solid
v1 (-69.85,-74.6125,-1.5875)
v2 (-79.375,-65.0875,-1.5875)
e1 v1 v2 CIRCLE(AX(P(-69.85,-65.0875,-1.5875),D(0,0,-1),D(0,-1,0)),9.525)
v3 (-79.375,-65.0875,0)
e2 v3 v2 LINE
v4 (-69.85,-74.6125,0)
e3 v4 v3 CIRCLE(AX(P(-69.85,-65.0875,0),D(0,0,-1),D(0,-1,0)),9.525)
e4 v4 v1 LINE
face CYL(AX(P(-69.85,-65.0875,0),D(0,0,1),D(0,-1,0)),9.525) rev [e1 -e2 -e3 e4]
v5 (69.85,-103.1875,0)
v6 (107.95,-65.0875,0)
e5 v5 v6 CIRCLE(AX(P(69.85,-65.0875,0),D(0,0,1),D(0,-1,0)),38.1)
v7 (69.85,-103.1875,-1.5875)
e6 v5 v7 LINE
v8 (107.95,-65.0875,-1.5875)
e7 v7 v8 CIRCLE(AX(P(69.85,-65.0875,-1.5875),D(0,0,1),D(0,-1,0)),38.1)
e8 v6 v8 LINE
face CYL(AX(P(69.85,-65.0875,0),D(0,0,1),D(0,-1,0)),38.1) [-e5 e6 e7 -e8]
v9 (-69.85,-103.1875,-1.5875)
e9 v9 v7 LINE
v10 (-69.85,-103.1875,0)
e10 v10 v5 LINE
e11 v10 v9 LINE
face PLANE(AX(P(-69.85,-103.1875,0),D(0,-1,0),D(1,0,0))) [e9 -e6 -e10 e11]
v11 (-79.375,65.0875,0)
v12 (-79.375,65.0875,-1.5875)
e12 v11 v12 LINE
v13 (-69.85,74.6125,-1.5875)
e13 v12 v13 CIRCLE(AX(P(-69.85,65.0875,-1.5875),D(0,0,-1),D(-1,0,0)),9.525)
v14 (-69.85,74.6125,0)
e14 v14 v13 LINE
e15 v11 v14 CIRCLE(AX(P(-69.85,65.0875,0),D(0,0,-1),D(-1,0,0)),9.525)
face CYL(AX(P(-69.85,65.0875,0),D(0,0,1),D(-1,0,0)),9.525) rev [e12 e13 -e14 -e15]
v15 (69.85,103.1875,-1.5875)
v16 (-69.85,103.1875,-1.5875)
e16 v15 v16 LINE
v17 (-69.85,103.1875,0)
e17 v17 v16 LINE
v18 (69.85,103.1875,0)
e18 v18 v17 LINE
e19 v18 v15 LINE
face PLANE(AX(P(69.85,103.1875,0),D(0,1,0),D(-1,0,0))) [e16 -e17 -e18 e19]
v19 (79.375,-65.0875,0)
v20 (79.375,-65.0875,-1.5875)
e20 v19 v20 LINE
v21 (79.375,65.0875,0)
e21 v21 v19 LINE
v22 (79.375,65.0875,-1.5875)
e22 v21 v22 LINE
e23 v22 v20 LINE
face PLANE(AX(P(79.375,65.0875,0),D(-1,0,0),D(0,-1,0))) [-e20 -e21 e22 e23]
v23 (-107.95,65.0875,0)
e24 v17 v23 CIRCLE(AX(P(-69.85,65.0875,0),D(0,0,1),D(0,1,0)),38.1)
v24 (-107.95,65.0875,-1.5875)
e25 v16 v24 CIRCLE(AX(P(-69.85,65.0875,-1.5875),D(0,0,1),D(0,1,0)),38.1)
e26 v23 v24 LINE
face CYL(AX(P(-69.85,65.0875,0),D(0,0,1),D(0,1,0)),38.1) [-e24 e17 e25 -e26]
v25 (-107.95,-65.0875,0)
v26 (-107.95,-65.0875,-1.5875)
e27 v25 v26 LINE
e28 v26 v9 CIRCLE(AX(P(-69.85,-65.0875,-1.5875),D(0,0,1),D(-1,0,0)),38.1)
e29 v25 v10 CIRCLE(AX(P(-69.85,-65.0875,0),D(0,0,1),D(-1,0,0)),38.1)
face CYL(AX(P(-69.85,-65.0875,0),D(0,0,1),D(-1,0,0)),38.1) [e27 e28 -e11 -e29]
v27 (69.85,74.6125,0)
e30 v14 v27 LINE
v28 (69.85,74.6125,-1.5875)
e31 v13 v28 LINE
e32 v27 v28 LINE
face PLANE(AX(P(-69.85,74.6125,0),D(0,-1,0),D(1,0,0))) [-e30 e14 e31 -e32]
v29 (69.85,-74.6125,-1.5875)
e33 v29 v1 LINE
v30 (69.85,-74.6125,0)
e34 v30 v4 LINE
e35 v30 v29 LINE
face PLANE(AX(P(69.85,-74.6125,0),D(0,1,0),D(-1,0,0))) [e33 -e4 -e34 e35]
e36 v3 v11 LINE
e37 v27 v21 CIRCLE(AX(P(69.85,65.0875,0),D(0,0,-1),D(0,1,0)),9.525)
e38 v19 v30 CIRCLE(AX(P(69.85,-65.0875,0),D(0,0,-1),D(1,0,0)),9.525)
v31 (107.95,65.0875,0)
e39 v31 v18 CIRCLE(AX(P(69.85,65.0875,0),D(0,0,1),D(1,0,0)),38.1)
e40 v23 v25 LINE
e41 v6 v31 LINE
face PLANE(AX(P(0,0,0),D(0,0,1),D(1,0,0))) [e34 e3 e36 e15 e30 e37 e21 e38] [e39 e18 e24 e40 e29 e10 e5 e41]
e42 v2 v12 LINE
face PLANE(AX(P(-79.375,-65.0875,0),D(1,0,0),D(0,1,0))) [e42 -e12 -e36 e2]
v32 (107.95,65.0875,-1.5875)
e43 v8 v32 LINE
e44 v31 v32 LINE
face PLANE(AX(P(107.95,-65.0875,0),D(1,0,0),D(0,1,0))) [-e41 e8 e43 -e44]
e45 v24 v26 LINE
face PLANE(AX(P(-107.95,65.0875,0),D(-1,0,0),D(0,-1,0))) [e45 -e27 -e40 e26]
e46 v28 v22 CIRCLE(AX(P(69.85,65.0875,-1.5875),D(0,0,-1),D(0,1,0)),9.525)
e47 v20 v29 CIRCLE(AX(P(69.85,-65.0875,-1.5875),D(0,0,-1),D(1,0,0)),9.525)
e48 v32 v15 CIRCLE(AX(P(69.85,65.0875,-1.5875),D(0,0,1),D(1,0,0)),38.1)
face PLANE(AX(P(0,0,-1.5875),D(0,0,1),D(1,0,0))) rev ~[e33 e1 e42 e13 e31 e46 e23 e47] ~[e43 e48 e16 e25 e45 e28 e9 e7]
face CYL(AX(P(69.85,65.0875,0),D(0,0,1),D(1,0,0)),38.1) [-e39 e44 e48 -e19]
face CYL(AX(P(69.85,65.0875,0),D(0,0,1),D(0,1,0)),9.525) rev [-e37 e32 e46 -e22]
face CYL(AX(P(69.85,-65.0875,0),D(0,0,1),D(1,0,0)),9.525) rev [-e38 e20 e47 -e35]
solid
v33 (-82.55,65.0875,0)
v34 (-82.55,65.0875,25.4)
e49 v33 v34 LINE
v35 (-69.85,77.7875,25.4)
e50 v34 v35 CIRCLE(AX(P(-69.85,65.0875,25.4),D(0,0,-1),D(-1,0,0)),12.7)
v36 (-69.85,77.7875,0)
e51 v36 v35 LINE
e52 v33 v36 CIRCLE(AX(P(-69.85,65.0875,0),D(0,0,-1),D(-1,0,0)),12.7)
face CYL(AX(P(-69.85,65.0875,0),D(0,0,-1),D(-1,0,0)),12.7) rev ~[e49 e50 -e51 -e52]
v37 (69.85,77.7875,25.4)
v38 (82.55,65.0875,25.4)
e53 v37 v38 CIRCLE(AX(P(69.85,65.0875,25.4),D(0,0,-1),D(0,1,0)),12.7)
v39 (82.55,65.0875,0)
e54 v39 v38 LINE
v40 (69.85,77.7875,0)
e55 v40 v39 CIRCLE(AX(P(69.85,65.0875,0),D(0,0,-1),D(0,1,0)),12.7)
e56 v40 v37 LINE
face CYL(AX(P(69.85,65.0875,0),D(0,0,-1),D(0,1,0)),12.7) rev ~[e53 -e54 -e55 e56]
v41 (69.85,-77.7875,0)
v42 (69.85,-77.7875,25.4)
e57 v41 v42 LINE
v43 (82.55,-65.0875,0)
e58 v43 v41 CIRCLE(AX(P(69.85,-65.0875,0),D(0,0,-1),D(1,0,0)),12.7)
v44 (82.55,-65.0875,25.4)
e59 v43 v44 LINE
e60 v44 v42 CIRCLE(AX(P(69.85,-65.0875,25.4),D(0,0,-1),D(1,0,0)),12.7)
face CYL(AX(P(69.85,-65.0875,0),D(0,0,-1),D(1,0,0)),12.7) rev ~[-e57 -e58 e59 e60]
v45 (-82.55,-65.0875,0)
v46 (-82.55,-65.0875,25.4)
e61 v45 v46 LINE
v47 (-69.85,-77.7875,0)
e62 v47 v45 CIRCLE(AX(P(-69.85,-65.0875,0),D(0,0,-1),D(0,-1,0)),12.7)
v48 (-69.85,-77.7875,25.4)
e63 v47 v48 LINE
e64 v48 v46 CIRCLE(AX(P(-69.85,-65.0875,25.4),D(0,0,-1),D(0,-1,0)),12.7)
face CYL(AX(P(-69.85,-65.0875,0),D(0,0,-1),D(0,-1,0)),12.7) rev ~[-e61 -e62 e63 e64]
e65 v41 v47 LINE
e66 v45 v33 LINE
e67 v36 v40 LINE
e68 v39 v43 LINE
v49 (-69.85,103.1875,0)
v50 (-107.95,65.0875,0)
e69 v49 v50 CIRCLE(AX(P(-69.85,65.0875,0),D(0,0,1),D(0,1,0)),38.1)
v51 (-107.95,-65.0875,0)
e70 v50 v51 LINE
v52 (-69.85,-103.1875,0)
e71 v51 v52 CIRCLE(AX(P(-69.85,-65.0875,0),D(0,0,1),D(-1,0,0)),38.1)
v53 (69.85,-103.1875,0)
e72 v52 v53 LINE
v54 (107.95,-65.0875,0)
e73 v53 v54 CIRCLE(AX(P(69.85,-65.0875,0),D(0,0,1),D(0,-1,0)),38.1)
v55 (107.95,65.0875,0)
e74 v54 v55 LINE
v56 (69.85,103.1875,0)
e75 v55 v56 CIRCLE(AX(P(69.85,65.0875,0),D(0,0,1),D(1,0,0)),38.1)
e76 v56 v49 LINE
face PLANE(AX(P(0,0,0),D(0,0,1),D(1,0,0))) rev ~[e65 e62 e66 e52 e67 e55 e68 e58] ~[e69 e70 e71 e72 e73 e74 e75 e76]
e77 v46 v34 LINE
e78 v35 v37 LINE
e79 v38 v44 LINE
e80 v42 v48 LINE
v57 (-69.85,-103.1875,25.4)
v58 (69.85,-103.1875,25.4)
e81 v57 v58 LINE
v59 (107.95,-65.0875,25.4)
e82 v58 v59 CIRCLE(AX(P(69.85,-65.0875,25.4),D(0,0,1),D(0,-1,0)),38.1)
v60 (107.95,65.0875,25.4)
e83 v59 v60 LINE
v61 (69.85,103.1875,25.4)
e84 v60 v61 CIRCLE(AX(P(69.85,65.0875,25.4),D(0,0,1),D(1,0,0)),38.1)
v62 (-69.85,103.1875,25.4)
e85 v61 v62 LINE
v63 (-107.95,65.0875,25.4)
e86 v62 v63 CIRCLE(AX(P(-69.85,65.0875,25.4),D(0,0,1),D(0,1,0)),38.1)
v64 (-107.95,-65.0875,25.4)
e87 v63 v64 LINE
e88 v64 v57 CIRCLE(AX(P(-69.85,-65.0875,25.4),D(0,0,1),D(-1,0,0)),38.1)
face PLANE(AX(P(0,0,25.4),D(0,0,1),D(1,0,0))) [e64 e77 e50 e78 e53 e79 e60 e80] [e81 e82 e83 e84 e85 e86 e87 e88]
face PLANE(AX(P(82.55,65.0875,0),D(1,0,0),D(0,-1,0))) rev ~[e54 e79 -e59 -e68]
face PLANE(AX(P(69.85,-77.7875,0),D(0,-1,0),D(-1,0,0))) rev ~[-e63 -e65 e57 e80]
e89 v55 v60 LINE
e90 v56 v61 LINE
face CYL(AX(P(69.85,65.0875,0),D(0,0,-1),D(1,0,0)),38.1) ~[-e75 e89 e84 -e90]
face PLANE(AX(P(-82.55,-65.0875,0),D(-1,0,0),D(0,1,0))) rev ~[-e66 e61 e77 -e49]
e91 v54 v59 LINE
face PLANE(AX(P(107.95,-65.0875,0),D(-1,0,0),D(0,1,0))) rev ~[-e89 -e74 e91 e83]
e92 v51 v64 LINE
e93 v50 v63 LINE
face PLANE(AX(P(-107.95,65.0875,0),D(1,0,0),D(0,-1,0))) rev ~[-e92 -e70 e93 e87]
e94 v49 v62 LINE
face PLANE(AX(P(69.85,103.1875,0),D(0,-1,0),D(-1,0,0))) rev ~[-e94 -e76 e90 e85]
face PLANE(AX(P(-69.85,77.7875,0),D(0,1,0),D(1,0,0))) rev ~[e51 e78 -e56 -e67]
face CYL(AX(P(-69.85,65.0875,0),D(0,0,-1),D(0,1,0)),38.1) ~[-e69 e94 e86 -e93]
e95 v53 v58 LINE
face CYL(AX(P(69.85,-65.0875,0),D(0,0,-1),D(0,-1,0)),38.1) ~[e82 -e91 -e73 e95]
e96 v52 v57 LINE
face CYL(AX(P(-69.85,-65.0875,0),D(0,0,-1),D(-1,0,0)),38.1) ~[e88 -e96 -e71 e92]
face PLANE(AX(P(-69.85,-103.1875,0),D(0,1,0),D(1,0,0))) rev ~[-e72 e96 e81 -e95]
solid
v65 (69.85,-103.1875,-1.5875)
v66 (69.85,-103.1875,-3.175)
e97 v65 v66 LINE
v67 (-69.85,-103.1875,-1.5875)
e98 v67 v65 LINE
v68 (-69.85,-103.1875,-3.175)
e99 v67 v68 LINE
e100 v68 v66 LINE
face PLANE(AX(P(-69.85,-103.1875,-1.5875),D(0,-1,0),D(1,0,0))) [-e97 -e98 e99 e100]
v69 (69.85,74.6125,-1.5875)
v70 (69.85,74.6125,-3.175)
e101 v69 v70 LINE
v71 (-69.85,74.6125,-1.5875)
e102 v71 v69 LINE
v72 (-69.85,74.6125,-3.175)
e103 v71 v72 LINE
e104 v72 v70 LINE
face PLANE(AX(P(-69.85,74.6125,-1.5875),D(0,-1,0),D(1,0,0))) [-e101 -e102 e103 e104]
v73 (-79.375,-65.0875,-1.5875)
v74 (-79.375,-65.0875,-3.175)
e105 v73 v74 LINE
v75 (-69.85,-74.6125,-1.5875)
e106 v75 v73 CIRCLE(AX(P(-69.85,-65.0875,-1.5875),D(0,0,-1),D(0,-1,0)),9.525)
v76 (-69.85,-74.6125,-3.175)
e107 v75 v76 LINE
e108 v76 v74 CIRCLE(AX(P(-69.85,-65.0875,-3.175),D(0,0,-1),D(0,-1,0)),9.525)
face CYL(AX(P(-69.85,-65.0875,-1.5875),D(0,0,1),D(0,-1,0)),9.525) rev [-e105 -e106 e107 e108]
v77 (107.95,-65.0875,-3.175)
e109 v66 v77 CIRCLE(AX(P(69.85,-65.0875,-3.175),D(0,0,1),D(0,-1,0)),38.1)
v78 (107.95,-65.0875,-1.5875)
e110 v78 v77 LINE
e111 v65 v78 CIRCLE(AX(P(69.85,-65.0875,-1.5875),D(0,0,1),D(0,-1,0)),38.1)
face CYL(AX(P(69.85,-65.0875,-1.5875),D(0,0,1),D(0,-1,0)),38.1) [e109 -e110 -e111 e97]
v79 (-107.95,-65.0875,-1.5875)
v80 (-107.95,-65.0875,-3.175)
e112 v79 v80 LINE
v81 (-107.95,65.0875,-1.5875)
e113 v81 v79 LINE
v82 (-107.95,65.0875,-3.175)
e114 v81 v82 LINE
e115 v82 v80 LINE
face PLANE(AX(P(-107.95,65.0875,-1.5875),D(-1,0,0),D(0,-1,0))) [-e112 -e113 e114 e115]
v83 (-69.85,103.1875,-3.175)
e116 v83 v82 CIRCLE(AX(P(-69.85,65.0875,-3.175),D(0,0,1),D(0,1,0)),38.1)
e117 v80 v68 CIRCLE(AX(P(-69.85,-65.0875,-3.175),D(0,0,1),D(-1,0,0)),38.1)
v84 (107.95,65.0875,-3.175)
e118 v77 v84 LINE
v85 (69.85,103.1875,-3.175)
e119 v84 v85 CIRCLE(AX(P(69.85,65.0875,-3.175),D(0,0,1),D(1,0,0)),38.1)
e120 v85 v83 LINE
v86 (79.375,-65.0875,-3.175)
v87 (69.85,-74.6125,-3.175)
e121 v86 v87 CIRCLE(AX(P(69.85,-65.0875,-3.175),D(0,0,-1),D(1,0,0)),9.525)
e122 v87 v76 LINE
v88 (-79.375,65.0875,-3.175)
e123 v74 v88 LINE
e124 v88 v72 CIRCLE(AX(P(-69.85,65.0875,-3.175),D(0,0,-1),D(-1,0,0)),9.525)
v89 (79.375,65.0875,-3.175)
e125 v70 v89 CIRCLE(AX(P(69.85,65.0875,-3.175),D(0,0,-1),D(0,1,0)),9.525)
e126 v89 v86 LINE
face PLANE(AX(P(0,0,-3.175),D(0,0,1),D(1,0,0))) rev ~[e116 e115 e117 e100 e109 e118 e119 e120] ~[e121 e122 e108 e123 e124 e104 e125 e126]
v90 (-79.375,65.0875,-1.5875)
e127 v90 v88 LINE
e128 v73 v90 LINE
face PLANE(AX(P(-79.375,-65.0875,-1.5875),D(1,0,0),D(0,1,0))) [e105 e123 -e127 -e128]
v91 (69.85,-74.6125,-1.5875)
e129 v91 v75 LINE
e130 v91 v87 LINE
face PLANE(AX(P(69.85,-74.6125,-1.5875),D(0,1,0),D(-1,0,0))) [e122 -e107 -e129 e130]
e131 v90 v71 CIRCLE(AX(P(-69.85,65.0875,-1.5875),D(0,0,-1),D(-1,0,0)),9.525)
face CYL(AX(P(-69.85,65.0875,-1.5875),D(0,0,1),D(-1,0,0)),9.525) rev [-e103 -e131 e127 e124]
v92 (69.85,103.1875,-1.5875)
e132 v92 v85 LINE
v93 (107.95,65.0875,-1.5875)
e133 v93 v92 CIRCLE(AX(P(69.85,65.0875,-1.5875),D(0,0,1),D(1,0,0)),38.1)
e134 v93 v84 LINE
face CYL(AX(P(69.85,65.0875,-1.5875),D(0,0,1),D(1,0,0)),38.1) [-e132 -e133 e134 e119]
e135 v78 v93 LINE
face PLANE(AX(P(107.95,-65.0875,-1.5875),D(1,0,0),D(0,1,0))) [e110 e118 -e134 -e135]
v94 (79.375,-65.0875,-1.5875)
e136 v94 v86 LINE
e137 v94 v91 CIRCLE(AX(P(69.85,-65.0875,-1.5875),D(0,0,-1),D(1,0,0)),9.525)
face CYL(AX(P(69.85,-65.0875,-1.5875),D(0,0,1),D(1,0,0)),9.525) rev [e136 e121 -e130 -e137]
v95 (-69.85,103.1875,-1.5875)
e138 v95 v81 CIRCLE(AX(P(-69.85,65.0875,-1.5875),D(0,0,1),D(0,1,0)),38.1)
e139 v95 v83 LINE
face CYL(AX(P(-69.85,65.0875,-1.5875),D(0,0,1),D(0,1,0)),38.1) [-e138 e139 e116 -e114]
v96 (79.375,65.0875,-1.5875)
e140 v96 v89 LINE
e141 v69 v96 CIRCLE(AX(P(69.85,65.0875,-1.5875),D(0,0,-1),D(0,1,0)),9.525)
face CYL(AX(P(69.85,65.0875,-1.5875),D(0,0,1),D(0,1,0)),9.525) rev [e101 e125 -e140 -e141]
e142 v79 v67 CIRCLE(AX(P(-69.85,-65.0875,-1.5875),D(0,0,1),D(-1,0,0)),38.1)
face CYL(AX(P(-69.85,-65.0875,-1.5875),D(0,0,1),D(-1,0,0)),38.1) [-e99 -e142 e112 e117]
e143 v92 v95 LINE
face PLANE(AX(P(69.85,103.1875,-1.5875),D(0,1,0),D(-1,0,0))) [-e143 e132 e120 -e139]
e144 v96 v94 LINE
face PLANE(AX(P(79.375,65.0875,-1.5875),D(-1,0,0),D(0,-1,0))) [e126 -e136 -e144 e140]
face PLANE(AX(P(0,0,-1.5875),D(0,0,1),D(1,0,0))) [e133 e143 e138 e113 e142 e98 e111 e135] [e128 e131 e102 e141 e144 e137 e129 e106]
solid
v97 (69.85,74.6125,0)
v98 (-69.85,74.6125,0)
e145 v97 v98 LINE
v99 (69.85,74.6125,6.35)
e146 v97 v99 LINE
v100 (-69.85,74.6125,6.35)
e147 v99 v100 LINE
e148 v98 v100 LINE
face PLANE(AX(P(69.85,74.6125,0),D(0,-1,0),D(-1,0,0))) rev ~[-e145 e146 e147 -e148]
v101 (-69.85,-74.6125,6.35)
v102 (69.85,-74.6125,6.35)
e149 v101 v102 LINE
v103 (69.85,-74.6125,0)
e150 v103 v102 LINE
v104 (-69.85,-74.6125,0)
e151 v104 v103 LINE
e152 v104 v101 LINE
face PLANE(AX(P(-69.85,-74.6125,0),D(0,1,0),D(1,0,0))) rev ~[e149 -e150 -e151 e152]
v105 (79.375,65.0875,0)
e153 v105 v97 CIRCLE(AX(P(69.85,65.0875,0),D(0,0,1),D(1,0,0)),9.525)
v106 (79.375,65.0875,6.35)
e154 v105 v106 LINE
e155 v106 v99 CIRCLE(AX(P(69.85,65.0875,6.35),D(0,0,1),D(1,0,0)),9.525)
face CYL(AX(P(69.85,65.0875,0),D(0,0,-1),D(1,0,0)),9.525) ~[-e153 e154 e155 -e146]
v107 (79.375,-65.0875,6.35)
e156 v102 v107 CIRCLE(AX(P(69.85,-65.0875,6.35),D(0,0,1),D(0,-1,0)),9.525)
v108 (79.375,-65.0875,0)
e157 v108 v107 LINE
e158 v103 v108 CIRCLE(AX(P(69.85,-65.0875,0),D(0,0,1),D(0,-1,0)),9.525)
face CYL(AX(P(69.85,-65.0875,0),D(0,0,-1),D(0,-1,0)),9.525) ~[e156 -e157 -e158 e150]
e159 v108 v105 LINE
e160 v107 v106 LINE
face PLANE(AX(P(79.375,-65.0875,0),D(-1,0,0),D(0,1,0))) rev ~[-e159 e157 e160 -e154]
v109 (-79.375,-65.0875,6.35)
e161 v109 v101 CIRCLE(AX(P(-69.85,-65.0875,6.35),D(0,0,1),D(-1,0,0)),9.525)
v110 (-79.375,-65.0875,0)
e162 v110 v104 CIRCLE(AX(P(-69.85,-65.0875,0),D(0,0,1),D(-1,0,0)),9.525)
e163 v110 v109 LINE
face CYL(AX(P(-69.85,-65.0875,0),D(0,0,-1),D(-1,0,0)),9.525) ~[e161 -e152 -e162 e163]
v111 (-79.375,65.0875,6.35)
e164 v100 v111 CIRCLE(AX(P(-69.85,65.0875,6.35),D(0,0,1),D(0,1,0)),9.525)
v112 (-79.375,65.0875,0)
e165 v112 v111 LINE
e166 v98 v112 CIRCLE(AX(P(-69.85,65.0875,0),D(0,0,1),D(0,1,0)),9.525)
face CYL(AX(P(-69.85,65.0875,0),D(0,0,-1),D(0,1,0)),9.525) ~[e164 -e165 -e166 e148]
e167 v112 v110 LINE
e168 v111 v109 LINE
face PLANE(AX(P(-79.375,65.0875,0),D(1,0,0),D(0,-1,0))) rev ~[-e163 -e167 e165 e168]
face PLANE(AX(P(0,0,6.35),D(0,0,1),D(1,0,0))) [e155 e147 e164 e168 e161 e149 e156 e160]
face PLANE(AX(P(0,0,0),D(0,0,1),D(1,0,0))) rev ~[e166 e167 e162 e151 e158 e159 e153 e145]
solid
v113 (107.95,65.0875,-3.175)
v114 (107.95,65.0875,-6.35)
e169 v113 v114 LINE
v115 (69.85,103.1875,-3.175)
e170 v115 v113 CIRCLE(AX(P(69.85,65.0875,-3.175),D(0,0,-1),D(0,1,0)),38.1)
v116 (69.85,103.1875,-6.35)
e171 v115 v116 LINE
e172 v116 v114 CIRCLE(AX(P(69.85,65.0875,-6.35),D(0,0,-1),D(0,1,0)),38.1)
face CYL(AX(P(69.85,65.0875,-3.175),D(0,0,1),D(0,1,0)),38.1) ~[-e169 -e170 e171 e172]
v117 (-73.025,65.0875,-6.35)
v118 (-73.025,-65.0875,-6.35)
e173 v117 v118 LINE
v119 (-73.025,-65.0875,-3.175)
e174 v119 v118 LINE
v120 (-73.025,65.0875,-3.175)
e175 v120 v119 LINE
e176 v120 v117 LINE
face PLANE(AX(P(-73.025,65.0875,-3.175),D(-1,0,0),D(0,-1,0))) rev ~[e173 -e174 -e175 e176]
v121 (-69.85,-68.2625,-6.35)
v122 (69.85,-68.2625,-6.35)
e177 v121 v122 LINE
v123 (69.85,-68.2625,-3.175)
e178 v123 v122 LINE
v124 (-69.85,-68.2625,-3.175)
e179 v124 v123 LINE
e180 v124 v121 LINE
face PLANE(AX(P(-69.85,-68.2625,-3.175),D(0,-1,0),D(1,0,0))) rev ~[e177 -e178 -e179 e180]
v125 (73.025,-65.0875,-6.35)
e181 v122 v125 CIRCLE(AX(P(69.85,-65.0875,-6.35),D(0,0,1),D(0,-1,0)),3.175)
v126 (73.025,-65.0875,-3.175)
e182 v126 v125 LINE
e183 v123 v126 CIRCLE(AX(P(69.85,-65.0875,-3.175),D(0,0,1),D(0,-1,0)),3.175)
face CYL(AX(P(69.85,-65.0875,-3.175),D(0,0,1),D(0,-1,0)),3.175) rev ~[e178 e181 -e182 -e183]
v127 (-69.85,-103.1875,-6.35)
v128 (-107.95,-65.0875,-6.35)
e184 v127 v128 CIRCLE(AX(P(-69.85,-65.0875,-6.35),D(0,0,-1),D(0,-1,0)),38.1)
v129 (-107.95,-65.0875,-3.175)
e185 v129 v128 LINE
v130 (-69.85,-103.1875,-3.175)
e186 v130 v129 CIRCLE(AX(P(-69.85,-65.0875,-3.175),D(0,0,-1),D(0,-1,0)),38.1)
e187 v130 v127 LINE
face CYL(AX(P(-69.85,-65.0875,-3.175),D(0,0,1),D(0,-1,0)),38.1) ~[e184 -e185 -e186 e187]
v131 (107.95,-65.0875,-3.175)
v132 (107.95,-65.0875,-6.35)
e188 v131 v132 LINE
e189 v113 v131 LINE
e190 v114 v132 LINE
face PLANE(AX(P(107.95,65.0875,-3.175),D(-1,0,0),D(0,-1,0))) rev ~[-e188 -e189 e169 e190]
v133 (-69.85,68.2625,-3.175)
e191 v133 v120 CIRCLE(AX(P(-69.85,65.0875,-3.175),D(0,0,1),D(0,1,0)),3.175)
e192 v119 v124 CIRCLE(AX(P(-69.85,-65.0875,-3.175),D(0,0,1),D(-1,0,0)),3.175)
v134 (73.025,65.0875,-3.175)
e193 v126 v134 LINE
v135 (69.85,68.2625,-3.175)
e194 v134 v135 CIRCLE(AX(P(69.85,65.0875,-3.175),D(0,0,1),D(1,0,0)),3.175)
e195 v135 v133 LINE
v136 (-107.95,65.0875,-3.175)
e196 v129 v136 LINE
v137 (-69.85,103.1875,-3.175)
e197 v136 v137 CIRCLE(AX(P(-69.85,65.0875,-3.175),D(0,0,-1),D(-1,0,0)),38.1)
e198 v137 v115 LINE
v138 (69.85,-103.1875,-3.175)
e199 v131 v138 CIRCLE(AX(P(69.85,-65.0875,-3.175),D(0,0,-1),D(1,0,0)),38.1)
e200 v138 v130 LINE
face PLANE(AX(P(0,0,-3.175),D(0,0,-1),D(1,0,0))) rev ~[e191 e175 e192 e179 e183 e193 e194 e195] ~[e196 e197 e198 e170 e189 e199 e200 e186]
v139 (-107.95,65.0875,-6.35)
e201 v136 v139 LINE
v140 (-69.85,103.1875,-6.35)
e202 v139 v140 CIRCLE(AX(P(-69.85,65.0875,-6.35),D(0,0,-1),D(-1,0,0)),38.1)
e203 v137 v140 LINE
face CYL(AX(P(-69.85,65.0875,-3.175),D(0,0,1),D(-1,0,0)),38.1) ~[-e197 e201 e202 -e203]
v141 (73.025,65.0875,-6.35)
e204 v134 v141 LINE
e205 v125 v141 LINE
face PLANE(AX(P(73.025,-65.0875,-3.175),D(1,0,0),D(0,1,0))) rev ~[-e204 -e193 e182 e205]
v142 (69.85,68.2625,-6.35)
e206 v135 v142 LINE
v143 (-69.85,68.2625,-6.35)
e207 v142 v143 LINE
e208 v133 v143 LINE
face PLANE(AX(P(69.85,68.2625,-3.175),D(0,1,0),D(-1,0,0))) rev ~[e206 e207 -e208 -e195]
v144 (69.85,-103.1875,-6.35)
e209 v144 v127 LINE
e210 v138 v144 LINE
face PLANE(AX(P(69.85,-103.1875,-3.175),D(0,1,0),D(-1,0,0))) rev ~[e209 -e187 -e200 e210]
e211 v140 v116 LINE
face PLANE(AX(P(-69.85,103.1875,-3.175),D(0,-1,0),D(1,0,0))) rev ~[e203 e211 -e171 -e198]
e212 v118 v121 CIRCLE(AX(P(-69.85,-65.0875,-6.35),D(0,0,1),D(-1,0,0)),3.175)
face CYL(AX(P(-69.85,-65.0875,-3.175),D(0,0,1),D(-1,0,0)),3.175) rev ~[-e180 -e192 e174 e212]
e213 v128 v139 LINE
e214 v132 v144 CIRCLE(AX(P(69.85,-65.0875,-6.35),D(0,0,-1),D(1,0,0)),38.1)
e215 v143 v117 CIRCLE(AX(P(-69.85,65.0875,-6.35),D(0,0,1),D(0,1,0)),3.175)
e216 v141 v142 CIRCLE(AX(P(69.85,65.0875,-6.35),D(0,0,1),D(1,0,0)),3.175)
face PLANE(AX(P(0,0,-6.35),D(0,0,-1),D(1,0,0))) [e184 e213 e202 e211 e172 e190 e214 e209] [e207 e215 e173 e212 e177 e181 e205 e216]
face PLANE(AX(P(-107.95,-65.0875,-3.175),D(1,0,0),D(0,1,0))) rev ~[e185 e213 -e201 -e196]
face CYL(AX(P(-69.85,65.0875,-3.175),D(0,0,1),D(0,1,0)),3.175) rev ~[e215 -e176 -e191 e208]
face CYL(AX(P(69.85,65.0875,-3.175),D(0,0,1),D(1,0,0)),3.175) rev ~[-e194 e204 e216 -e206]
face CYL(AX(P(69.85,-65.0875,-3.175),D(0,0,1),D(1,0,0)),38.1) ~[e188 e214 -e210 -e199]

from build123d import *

# Parameters (mm, degrees)
F1_DEPTH = 25.4
F2_DEPTH = 6.35
F3_DEPTH = 1.5875
F4_DEPTH = 1.5875
F6_DEPTH = 3.175


with BuildPart() as f1:
    # F0 (on Top) → F1 (new body)
    with BuildSketch(Plane.XY):
        with BuildLine():
            ThreePointArc((-69.85, 103.1875), (-96.7907683632, 92.0282683632), (-107.95, 65.0875))
            Line((-107.95, 65.0875), (-107.95, -65.0875))
            ThreePointArc((-107.95, -65.0875), (-96.7907683632, -92.0282683632), (-69.85, -103.1875))
            Line((-69.85, -103.1875), (69.85, -103.1875))
            ThreePointArc((69.85, -103.1875), (96.7907683632, -92.0282683632), (107.95, -65.0875))
            Line((107.95, -65.0875), (107.95, 65.0875))
            ThreePointArc((107.95, 65.0875), (96.7907683632, 92.0282683632), (69.85, 103.1875))
            Line((69.85, 103.1875), (-69.85, 103.1875))
        make_face()
        with BuildLine():
            Line((-69.85, 77.7875), (69.85, 77.7875))
            ThreePointArc((69.85, 77.7875), (78.8302561211, 74.0677561211), (82.55, 65.0875))
            Line((82.55, 65.0875), (82.55, -65.0875))
            ThreePointArc((82.55, -65.0875), (78.8302561211, -74.0677561211), (69.85, -77.7875))
            Line((69.85, -77.7875), (-69.85, -77.7875))
            ThreePointArc((-69.85, -77.7875), (-78.8302561211, -74.0677561211), (-82.55, -65.0875))
            Line((-82.55, -65.0875), (-82.55, 65.0875))
            ThreePointArc((-82.55, 65.0875), (-78.8302561211, 74.0677561211), (-69.85, 77.7875))
        make_face(mode=Mode.SUBTRACT)
    extrude(amount=F1_DEPTH)


with BuildPart() as f2:
    # F0 (on Top) → F2 (new body)
    with BuildSketch(Plane.XY):
        with BuildLine():
            Line((79.375, -65.0875), (79.375, 65.0875))
            ThreePointArc((79.375, 65.0875), (76.5851920908, 71.8226920908), (69.85, 74.6125))
            Line((69.85, 74.6125), (-69.85, 74.6125))
            ThreePointArc((-69.85, 74.6125), (-76.5851920908, 71.8226920908), (-79.375, 65.0875))
            Line((-79.375, 65.0875), (-79.375, -65.0875))
            ThreePointArc((-79.375, -65.0875), (-76.5851920908, -71.8226920908), (-69.85, -74.6125))
            Line((-69.85, -74.6125), (69.85, -74.6125))
            ThreePointArc((69.85, -74.6125), (76.5851920908, -71.8226920908), (79.375, -65.0875))
        make_face()
        with BuildLine():
            ThreePointArc((73.025, -65.0875), (72.0950640303, -67.3325640303), (69.85, -68.2625))
            Line((69.85, -68.2625), (-69.85, -68.2625))
            ThreePointArc((-69.85, -68.2625), (-72.0950640303, -67.3325640303), (-73.025, -65.0875))
            Line((-73.025, -65.0875), (-73.025, 65.0875))
            ThreePointArc((-73.025, 65.0875), (-72.0950640303, 67.3325640303), (-69.85, 68.2625))
            Line((-69.85, 68.2625), (69.85, 68.2625))
            ThreePointArc((69.85, 68.2625), (72.0950640303, 67.3325640303), (73.025, 65.0875))
            Line((73.025, 65.0875), (73.025, -65.0875))
        make_face(mode=Mode.SUBTRACT)
        with BuildLine():
            Line((-69.85, -68.2625), (69.85, -68.2625))
            ThreePointArc((69.85, -68.2625), (72.0950640303, -67.3325640303), (73.025, -65.0875))
            Line((73.025, -65.0875), (73.025, 65.0875))
            ThreePointArc((73.025, 65.0875), (72.0950640303, 67.3325640303), (69.85, 68.2625))
            Line((69.85, 68.2625), (-69.85, 68.2625))
            ThreePointArc((-69.85, 68.2625), (-72.0950640303, 67.3325640303), (-73.025, 65.0875))
            Line((-73.025, 65.0875), (-73.025, -65.0875))
            ThreePointArc((-73.025, -65.0875), (-72.0950640303, -67.3325640303), (-69.85, -68.2625))
        make_face()
    extrude(amount=F2_DEPTH)


with BuildPart() as f3:
    # F0 (on Top) → F3 (new body)
    with BuildSketch(Plane.XY):
        with BuildLine():
            ThreePointArc((-69.85, 103.1875), (-96.7907683632, 92.0282683632), (-107.95, 65.0875))
            Line((-107.95, 65.0875), (-107.95, -65.0875))
            ThreePointArc((-107.95, -65.0875), (-96.7907683632, -92.0282683632), (-69.85, -103.1875))
            Line((-69.85, -103.1875), (69.85, -103.1875))
            ThreePointArc((69.85, -103.1875), (96.7907683632, -92.0282683632), (107.95, -65.0875))
            Line((107.95, -65.0875), (107.95, 65.0875))
            ThreePointArc((107.95, 65.0875), (96.7907683632, 92.0282683632), (69.85, 103.1875))
            Line((69.85, 103.1875), (-69.85, 103.1875))
        make_face()
        with BuildLine():
            Line((-69.85, 77.7875), (69.85, 77.7875))
            ThreePointArc((69.85, 77.7875), (78.8302561211, 74.0677561211), (82.55, 65.0875))
            Line((82.55, 65.0875), (82.55, -65.0875))
            ThreePointArc((82.55, -65.0875), (78.8302561211, -74.0677561211), (69.85, -77.7875))
            Line((69.85, -77.7875), (-69.85, -77.7875))
            ThreePointArc((-69.85, -77.7875), (-78.8302561211, -74.0677561211), (-82.55, -65.0875))
            Line((-82.55, -65.0875), (-82.55, 65.0875))
            ThreePointArc((-82.55, 65.0875), (-78.8302561211, 74.0677561211), (-69.85, 77.7875))
        make_face(mode=Mode.SUBTRACT)
        with BuildLine():
            ThreePointArc((82.55, 65.0875), (78.8302561211, 74.0677561211), (69.85, 77.7875))
            Line((69.85, 77.7875), (-69.85, 77.7875))
            ThreePointArc((-69.85, 77.7875), (-78.8302561211, 74.0677561211), (-82.55, 65.0875))
            Line((-82.55, 65.0875), (-82.55, -65.0875))
            ThreePointArc((-82.55, -65.0875), (-78.8302561211, -74.0677561211), (-69.85, -77.7875))
            Line((-69.85, -77.7875), (69.85, -77.7875))
            ThreePointArc((69.85, -77.7875), (78.8302561211, -74.0677561211), (82.55, -65.0875))
            Line((82.55, -65.0875), (82.55, 65.0875))
        make_face()
        with BuildLine():
            ThreePointArc((69.85, 74.6125), (76.5851920908, 71.8226920908), (79.375, 65.0875))
            Line((79.375, 65.0875), (79.375, -65.0875))
            ThreePointArc((79.375, -65.0875), (76.5851920908, -71.8226920908), (69.85, -74.6125))
            Line((69.85, -74.6125), (-69.85, -74.6125))
            ThreePointArc((-69.85, -74.6125), (-76.5851920908, -71.8226920908), (-79.375, -65.0875))
            Line((-79.375, -65.0875), (-79.375, 65.0875))
            ThreePointArc((-79.375, 65.0875), (-76.5851920908, 71.8226920908), (-69.85, 74.6125))
            Line((-69.85, 74.6125), (69.85, 74.6125))
        make_face(mode=Mode.SUBTRACT)
    extrude(amount=-F3_DEPTH)


with BuildPart() as f4:
    # F4 (new): a face of the model
    f4_faces = [f3.part.faces().sort_by_distance(p)[0] for p in [
        (94.6788563075, 89.9163563075, -1.5875),
    ]]
    extrude(f4_faces, amount=F4_DEPTH)


with BuildPart() as f6:
    # F5 (on face) → F6 (new body)
    with BuildSketch(Plane(origin=(0, 0, -3.175), x_dir=(1, 0, 0), z_dir=(0, 0, -1))):
        with BuildLine():
            ThreePointArc((-69.85, 103.1875), (-96.7907683632, 92.0282683632), (-107.95, 65.0875))
            Line((-107.95, 65.0875), (-107.95, -65.0875))
            ThreePointArc((-107.95, -65.0875), (-96.7907683632, -92.0282683632), (-69.85, -103.1875))
            Line((-69.85, -103.1875), (69.85, -103.1875))
            ThreePointArc((69.85, -103.1875), (96.7907683632, -92.0282683632), (107.95, -65.0875))
            Line((107.95, -65.0875), (107.95, 65.0875))
            ThreePointArc((107.95, 65.0875), (96.7907683632, 92.0282683632), (69.85, 103.1875))
            Line((69.85, 103.1875), (-69.85, 103.1875))
        make_face()
        with BuildLine():
            Line((-69.85, 77.7875), (69.85, 77.7875))
            ThreePointArc((69.85, 77.7875), (78.8302561211, 74.0677561211), (82.55, 65.0875))
            Line((82.55, 65.0875), (82.55, -65.0875))
            ThreePointArc((82.55, -65.0875), (78.8302561211, -74.0677561211), (69.85, -77.7875))
            Line((69.85, -77.7875), (-69.85, -77.7875))
            ThreePointArc((-69.85, -77.7875), (-78.8302561211, -74.0677561211), (-82.55, -65.0875))
            Line((-82.55, -65.0875), (-82.55, 65.0875))
            ThreePointArc((-82.55, 65.0875), (-78.8302561211, 74.0677561211), (-69.85, 77.7875))
        make_face(mode=Mode.SUBTRACT)
        with BuildLine():
            ThreePointArc((82.55, 65.0875), (78.8302561211, 74.0677561211), (69.85, 77.7875))
            Line((69.85, 77.7875), (-69.85, 77.7875))
            ThreePointArc((-69.85, 77.7875), (-78.8302561211, 74.0677561211), (-82.55, 65.0875))
            Line((-82.55, 65.0875), (-82.55, -65.0875))
            ThreePointArc((-82.55, -65.0875), (-78.8302561211, -74.0677561211), (-69.85, -77.7875))
            Line((-69.85, -77.7875), (69.85, -77.7875))
            ThreePointArc((69.85, -77.7875), (78.8302561211, -74.0677561211), (82.55, -65.0875))
            Line((82.55, -65.0875), (82.55, 65.0875))
        make_face()
        with BuildLine():
            ThreePointArc((69.85, 74.6125), (76.5851920908, 71.8226920908), (79.375, 65.0875))
            Line((79.375, 65.0875), (79.375, -65.0875))
            ThreePointArc((79.375, -65.0875), (76.5851920908, -71.8226920908), (69.85, -74.6125))
            Line((69.85, -74.6125), (-69.85, -74.6125))
            ThreePointArc((-69.85, -74.6125), (-76.5851920908, -71.8226920908), (-79.375, -65.0875))
            Line((-79.375, -65.0875), (-79.375, 65.0875))
            ThreePointArc((-79.375, 65.0875), (-76.5851920908, 71.8226920908), (-69.85, 74.6125))
            Line((-69.85, 74.6125), (69.85, 74.6125))
        make_face(mode=Mode.SUBTRACT)
        with BuildLine():
            Line((79.375, -65.0875), (79.375, 65.0875))
            ThreePointArc((79.375, 65.0875), (76.5851920908, 71.8226920908), (69.85, 74.6125))
            Line((69.85, 74.6125), (-69.85, 74.6125))
            ThreePointArc((-69.85, 74.6125), (-76.5851920908, 71.8226920908), (-79.375, 65.0875))
            Line((-79.375, 65.0875), (-79.375, -65.0875))
            ThreePointArc((-79.375, -65.0875), (-76.5851920908, -71.8226920908), (-69.85, -74.6125))
            Line((-69.85, -74.6125), (69.85, -74.6125))
            ThreePointArc((69.85, -74.6125), (76.5851920908, -71.8226920908), (79.375, -65.0875))
        make_face()
        with BuildLine():
            ThreePointArc((73.025, -65.0875), (72.0950640303, -67.3325640303), (69.85, -68.2625))
            Line((69.85, -68.2625), (-69.85, -68.2625))
            ThreePointArc((-69.85, -68.2625), (-72.0950640303, -67.3325640303), (-73.025, -65.0875))
            Line((-73.025, -65.0875), (-73.025, 65.0875))
            ThreePointArc((-73.025, 65.0875), (-72.0950640303, 67.3325640303), (-69.85, 68.2625))
            Line((-69.85, 68.2625), (69.85, 68.2625))
            ThreePointArc((69.85, 68.2625), (72.0950640303, 67.3325640303), (73.025, 65.0875))
            Line((73.025, 65.0875), (73.025, -65.0875))
        make_face(mode=Mode.SUBTRACT)
    extrude(amount=F6_DEPTH)


solid = Compound([f1.part, f2.part, f3.part, f4.part, f6.part])
